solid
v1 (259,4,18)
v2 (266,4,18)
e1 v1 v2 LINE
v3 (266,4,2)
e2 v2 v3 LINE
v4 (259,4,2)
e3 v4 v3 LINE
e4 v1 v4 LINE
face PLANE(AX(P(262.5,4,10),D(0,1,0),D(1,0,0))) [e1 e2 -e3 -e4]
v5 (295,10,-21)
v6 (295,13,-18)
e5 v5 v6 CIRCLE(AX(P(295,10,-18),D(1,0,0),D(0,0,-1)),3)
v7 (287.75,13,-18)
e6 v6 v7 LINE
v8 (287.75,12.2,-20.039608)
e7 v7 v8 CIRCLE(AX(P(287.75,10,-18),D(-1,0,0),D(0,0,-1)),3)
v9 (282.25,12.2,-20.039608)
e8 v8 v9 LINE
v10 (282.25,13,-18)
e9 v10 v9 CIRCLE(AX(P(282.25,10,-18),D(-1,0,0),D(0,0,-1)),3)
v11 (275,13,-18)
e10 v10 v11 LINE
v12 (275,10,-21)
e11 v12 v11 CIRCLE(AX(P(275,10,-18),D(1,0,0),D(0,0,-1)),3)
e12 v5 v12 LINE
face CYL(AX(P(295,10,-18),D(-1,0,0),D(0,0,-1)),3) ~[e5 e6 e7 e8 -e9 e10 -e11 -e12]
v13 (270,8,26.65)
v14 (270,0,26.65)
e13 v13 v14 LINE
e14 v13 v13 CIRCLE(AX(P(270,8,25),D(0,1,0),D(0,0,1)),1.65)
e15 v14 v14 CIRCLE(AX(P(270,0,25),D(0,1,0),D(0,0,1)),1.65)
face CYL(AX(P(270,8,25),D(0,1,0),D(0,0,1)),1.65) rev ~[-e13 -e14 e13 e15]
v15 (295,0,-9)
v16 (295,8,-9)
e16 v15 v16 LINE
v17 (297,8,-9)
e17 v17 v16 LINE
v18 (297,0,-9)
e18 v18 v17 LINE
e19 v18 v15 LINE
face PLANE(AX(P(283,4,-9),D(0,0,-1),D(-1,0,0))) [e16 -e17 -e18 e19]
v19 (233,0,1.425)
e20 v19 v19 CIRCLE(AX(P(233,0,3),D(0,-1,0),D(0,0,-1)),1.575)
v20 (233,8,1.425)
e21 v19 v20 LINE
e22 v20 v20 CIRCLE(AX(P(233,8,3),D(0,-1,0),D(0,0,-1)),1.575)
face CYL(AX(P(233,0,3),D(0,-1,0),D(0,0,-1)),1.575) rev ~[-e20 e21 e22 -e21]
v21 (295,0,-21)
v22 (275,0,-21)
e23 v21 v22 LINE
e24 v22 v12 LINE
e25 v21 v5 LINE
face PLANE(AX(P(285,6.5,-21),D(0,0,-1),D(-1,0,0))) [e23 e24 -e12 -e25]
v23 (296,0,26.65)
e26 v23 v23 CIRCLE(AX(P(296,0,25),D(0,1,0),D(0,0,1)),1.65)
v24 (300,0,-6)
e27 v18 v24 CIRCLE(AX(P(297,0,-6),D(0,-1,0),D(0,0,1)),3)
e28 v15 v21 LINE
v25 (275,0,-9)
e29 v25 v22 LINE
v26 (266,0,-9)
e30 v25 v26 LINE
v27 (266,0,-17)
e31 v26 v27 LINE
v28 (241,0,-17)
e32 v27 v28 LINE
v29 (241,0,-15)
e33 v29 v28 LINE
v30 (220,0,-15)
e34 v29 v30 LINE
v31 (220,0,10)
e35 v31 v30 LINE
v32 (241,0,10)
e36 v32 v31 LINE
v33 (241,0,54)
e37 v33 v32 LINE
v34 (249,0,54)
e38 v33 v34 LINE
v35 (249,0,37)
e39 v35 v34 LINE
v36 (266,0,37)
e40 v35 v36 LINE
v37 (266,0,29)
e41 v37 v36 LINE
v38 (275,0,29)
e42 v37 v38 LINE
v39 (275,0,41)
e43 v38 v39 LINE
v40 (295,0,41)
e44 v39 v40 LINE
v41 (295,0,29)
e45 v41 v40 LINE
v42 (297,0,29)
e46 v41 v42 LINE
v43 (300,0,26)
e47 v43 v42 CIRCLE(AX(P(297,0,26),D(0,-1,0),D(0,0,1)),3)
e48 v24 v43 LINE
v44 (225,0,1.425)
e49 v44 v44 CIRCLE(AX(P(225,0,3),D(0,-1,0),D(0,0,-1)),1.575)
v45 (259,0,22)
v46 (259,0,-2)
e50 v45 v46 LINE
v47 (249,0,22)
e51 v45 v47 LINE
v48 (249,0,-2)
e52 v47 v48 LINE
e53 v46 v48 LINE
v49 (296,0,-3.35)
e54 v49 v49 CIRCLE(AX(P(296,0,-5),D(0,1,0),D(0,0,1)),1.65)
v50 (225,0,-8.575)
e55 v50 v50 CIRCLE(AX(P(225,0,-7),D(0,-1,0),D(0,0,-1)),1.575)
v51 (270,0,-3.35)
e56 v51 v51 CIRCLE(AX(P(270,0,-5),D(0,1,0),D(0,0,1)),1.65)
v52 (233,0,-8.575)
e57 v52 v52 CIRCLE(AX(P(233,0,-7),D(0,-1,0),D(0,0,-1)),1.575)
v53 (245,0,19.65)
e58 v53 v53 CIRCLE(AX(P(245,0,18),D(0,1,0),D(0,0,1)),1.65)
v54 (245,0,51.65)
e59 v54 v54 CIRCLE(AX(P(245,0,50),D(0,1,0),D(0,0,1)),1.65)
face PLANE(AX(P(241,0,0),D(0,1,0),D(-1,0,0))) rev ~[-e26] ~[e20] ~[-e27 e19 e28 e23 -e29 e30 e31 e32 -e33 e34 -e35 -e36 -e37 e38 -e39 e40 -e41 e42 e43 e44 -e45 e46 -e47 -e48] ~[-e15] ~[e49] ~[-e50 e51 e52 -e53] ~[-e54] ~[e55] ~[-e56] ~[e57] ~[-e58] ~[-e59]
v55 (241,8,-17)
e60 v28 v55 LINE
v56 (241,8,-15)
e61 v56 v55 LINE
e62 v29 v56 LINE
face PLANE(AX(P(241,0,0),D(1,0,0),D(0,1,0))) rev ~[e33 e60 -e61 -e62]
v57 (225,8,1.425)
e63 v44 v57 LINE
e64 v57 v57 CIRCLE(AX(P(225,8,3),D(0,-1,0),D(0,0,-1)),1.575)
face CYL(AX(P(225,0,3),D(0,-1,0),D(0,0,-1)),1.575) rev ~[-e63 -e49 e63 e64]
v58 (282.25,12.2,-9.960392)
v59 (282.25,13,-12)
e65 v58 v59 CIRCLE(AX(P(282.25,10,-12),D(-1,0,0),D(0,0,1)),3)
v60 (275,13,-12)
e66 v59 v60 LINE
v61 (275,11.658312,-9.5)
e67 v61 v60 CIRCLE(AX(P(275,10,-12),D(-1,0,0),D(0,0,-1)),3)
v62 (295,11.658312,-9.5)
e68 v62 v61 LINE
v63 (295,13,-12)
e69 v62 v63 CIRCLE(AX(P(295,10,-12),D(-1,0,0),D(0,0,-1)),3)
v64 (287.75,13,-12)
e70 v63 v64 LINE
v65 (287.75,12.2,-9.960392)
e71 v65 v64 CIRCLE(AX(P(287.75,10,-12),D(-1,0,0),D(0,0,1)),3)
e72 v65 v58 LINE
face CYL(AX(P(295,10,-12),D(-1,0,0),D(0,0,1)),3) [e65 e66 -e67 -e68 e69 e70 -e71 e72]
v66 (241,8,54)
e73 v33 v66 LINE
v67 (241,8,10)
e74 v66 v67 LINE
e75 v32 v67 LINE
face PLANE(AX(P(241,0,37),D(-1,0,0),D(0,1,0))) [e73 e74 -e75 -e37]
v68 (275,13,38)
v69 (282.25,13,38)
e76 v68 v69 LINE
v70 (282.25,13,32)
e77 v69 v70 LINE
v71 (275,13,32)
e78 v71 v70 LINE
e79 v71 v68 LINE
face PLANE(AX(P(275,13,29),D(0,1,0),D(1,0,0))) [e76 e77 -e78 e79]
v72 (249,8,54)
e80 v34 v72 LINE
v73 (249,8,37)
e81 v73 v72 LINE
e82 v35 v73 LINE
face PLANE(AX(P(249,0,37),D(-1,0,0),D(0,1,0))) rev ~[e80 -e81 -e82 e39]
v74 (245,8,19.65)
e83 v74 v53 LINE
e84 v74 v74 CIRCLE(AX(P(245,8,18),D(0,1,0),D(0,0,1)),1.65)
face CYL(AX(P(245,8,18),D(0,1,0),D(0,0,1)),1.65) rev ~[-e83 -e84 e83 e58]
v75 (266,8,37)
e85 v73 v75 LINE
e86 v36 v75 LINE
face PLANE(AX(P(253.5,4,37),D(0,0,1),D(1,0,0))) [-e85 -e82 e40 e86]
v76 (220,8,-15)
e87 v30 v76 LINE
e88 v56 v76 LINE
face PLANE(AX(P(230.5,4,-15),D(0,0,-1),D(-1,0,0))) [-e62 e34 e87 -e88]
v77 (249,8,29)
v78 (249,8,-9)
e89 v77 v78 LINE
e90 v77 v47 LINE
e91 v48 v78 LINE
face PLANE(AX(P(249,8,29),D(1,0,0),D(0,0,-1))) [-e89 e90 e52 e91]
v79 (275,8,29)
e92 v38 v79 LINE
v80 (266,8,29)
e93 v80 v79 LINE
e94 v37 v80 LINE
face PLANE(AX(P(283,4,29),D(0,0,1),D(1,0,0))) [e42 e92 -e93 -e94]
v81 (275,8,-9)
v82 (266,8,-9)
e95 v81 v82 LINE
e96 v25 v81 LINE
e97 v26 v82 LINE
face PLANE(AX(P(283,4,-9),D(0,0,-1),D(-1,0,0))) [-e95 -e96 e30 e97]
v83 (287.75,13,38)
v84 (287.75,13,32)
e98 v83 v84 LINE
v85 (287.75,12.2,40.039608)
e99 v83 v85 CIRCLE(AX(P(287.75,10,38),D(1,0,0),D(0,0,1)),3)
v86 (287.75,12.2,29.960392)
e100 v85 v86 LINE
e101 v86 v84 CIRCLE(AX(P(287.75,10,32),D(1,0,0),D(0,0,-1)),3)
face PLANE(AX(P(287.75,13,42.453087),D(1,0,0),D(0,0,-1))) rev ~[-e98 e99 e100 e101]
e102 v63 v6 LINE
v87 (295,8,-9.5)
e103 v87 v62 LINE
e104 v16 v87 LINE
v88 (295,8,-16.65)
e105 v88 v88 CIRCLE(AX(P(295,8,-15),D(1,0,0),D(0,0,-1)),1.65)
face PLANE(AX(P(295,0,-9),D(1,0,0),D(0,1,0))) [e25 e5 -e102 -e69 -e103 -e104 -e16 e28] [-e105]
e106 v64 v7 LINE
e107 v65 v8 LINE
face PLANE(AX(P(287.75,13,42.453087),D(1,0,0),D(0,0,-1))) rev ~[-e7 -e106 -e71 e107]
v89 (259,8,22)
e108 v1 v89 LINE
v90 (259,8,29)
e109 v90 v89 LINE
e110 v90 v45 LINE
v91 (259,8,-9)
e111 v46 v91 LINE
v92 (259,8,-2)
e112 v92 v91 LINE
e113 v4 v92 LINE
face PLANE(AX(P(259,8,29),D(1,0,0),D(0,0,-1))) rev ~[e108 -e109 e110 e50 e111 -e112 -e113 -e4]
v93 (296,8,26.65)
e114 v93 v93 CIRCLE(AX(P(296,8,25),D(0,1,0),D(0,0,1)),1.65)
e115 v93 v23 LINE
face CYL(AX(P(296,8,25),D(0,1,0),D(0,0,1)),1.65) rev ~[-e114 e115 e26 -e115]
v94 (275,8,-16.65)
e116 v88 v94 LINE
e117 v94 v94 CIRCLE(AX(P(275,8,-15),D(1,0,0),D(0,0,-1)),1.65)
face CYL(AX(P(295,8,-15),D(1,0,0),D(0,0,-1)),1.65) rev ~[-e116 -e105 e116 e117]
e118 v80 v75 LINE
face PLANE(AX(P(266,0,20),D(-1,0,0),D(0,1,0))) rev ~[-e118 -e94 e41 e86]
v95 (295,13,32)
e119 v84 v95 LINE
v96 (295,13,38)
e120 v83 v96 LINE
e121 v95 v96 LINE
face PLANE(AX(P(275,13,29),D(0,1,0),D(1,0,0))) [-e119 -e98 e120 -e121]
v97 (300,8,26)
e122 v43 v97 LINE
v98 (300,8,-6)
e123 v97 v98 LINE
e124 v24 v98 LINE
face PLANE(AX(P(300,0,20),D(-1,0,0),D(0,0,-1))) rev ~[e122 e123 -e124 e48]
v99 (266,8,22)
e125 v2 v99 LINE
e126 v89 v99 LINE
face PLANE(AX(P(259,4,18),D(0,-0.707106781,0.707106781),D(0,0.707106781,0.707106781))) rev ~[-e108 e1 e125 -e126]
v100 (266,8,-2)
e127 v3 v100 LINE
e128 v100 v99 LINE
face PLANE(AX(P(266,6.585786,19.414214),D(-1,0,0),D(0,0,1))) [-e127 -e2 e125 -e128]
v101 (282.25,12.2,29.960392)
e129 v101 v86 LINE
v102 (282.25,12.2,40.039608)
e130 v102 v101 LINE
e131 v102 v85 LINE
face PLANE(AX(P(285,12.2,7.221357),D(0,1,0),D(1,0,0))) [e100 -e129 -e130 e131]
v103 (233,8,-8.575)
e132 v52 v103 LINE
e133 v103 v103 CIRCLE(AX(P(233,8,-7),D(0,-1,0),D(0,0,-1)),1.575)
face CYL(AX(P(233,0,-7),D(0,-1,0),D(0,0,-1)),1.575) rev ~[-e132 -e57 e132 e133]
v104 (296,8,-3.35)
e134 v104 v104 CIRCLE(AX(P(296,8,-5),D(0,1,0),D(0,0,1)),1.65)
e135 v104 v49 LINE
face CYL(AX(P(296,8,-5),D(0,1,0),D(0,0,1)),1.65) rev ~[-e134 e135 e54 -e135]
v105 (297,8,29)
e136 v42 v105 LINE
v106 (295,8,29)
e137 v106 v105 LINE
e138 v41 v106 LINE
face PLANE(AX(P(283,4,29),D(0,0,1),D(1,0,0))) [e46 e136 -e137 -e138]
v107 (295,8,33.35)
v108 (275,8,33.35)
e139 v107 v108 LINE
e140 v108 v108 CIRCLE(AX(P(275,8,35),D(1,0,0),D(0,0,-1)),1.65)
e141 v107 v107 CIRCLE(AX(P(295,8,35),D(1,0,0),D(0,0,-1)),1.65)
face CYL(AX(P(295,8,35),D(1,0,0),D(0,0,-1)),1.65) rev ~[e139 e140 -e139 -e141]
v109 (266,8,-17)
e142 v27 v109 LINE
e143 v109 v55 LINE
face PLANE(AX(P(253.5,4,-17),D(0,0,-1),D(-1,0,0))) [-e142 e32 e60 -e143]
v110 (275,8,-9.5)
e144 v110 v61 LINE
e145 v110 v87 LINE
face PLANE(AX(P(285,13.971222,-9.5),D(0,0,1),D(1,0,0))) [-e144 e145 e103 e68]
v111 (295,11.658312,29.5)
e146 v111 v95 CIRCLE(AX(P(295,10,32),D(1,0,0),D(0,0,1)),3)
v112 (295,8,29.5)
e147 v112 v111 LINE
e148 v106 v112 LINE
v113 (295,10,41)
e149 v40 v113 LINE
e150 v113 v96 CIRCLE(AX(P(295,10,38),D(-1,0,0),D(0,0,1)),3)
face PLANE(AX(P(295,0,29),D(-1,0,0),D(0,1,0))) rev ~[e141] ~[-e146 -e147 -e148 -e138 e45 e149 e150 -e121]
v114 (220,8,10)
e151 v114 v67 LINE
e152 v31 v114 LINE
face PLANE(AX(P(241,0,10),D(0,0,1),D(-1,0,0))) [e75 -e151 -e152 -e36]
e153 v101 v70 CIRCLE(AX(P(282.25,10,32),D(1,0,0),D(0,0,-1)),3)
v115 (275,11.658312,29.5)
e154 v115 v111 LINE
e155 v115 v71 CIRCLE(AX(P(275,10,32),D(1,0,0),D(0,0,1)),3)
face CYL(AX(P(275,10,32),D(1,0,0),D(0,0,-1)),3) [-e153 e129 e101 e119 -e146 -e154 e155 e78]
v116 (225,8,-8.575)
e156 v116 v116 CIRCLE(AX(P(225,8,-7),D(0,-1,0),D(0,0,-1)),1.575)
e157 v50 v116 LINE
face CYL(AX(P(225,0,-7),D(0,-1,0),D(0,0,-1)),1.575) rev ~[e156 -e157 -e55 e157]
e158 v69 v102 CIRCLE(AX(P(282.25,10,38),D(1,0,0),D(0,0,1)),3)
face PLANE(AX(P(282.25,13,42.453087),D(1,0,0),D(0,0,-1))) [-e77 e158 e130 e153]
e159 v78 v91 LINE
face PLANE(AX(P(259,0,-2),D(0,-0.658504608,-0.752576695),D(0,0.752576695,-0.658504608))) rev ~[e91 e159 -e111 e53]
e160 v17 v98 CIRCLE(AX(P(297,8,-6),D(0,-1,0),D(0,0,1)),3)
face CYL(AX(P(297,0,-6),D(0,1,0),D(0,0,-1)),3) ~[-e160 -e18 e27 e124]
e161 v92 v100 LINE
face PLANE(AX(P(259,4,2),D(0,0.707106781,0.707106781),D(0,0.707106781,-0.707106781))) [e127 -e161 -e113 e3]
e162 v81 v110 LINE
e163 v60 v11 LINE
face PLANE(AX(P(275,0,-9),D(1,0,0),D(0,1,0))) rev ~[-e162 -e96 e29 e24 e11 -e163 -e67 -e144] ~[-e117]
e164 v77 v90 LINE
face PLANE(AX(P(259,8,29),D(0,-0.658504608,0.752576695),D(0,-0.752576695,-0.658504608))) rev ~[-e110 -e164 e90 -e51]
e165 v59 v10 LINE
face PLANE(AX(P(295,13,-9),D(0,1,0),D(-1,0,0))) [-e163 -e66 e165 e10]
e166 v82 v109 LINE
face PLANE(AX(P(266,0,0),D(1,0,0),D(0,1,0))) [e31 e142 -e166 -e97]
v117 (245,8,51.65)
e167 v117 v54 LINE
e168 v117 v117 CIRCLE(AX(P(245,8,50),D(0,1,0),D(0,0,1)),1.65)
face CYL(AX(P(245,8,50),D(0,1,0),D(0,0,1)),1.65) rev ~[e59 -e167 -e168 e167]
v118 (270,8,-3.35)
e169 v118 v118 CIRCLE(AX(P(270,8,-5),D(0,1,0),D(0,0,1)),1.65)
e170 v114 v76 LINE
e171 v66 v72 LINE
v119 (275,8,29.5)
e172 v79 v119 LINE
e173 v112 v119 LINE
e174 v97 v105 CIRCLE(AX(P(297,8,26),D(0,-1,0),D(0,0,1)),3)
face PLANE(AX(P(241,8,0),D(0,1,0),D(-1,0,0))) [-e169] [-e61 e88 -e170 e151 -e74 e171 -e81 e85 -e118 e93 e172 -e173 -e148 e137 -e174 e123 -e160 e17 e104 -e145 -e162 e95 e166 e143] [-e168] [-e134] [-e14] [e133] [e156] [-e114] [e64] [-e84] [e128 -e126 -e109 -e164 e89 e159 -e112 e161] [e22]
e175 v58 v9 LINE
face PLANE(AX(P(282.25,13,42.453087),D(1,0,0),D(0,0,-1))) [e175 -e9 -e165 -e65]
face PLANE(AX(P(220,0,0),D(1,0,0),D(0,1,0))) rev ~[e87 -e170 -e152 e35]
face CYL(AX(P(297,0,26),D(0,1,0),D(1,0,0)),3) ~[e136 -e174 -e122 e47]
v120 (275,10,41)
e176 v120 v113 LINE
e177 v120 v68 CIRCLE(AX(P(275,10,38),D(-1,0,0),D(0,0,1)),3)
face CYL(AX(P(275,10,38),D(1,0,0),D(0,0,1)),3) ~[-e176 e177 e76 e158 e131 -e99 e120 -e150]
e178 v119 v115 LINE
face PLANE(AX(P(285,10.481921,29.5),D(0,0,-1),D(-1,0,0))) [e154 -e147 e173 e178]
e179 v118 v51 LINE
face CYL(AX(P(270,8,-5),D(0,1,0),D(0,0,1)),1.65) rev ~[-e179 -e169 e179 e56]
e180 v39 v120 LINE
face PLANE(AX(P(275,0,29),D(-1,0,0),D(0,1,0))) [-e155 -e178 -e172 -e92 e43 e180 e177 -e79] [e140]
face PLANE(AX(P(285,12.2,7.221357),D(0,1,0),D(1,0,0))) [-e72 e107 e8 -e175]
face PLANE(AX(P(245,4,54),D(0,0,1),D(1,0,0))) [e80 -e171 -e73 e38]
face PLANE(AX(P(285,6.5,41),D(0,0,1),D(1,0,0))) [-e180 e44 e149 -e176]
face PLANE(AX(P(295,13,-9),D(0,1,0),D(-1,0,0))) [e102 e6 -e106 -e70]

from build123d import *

# Parameters (mm, degrees)
SKETCH1_W            = 300
SKETCH1_H            = 20
BOSS_EXTRUDE1_DEPTH  = 8
SKETCH2_W            = 34
SKETCH2_H            = 8
BOSS_EXTRUDE2_DEPTH  = 9
SKETCH3_W            = 34
SKETCH3_H            = 8
BOSS_EXTRUDE3_DEPTH  = 9
SKETCH4_R            = 1.65
CUT_EXTRUDE1_DEPTH   = 302.504560496
SKETCH5_W            = 25
SKETCH5_H            = 8
BOSS_EXTRUDE4_DEPTH  = 17
SKETCH6_W            = 25
SKETCH6_H            = 8
BOSS_EXTRUDE5_DEPTH  = 17
SKETCH7_W            = 10
SKETCH7_H            = 38
CUT_EXTRUDE2_DEPTH   = 303.37890138
SKETCH8_W            = 7
SKETCH8_H            = 16
CUT_EXTRUDE3_DEPTH   = 4
CUT_EXTRUDE4_DEPTH   = 7
BOSS_EXTRUDE6_DEPTH  = 10
SKETCH12_W           = 8
SKETCH12_H           = 8
BOSS_EXTRUDE7_DEPTH  = 17
SKETCH13_R           = 1.65
CUT_EXTRUDE6_DEPTH   = 305.926220585
SKETCH14_W           = 20
SKETCH14_H           = 13
BOSS_EXTRUDE8_DEPTH  = 12
SKETCH15_R           = 1.65
CUT_EXTRUDE7_DEPTH   = 20
SKETCH16_W           = 20
SKETCH16_H           = 13
BOSS_EXTRUDE9_DEPTH  = 12
SKETCH17_R           = 1.65
CUT_EXTRUDE8_DEPTH   = 20
SKETCH18_W           = 20
SKETCH18_H           = 13
BOSS_EXTRUDE10_DEPTH = 12
SKETCH19_R           = 1.6
CUT_EXTRUDE9_DEPTH   = 20
SKETCH20_W           = 20
SKETCH20_H           = 13
BOSS_EXTRUDE11_DEPTH = 12
SKETCH21_R           = 1.6
CUT_EXTRUDE10_DEPTH  = 20
FILLET6_R            = 3
SKETCH28_W           = 198.881436238
SKETCH28_H           = 556.355103816
CUT_EXTRUDE14_DEPTH  = 220
SKETCH29_W           = 21
SKETCH29_H           = 8
BOSS_EXTRUDE12_DEPTH = 15
SKETCH30_W           = 21
SKETCH30_H           = 10
CUT_EXTRUDE15_DEPTH  = 306.0983448
SKETCH31_R           = 1.575
CUT_EXTRUDE16_DEPTH  = 306.0983448
FILLET7_R            = 3
SKETCH32_W           = 5.5
SKETCH32_H           = 70.463459777
CUT_EXTRUDE17_DEPTH  = 0.8
SKETCH33_W           = 20
SKETCH33_H           = 4.963841857
CUT_EXTRUDE18_DEPTH  = 0.5
SKETCH34_W           = 20
SKETCH34_H           = 11.942443484
CUT_EXTRUDE19_DEPTH  = 0.5


with BuildPart() as part:
    # Sketch1 → Boss-Extrude1 (new body)
    with BuildSketch(Plane(origin=(0, 0, 0), x_dir=(1, 0, 0), z_dir=(0, 1, 0))):
        with Locations((150, -10)):
            Rectangle(SKETCH1_W, SKETCH1_H)
    extrude(amount=BOSS_EXTRUDE1_DEPTH)

    # Sketch2 → Boss-Extrude2 (add)
    with BuildSketch(Plane.XY.offset(20)):
        with Locations((17, 4)):
            Rectangle(SKETCH2_W, SKETCH2_H)
        with Locations((283, 4)):
            Rectangle(SKETCH2_W, SKETCH2_H)
    extrude(amount=BOSS_EXTRUDE2_DEPTH)

    # Sketch3 → Boss-Extrude3 (add)
    with BuildSketch(Plane(origin=(0, 0, 0), x_dir=(-1, 0, 0), z_dir=(0, 0, -1))):
        with Locations((-17, 4)):
            Rectangle(SKETCH3_W, SKETCH3_H)
        with Locations((-283, 4)):
            Rectangle(SKETCH3_W, SKETCH3_H)
    extrude(amount=BOSS_EXTRUDE3_DEPTH)

    # Sketch4 → Cut-Extrude1 (cut, through all)
    with BuildSketch(Plane(origin=(0, 8, 0), x_dir=(1, 0, 0), z_dir=(0, 1, 0))):
        with Locations(Location((4, 5, 0), (0, 0, 270))):
            Circle(SKETCH4_R)
        with Locations(Location((30, 5, 0), (0, 0, 270))):
            Circle(SKETCH4_R)
        with Locations(Location((30, -25, 0), (0, 0, 270))):
            Circle(SKETCH4_R)
        with Locations(Location((4, -25, 0), (0, 0, 270))):
            Circle(SKETCH4_R)
        with Locations(Location((296, -25, 0), (0, 0, 270))):
            Circle(SKETCH4_R)
        with Locations(Location((296, 5, 0), (0, 0, 270))):
            Circle(SKETCH4_R)
        with Locations(Location((270, -25, 0), (0, 0, 270))):
            Circle(SKETCH4_R)
        with Locations(Location((270, 5, 0), (0, 0, 270))):
            Circle(SKETCH4_R)
    extrude(amount=-CUT_EXTRUDE1_DEPTH, mode=Mode.SUBTRACT)

    # Sketch5 → Boss-Extrude4 (add)
    with BuildSketch(Plane.XY.offset(20)):
        with Locations((253.5, 4)):
            Rectangle(SKETCH5_W, SKETCH5_H)
    extrude(amount=BOSS_EXTRUDE4_DEPTH)

    # Sketch6 → Boss-Extrude5 (add)
    with BuildSketch(Plane(origin=(0, 0, 0), x_dir=(-1, 0, 0), z_dir=(0, 0, -1))):
        with Locations((-253.5, 4)):
            Rectangle(SKETCH6_W, SKETCH6_H)
    extrude(amount=BOSS_EXTRUDE5_DEPTH)

    # Sketch7 → Cut-Extrude2 (cut, through all)
    with BuildSketch(Plane(origin=(0, 8, 0), x_dir=(1, 0, 0), z_dir=(0, 1, 0))):
        with Locations((254, -10)):
            Rectangle(SKETCH7_W, SKETCH7_H)
    extrude(amount=-CUT_EXTRUDE2_DEPTH, mode=Mode.SUBTRACT)

    # Sketch8 → Cut-Extrude3 (cut)
    with BuildSketch(Plane(origin=(0, 8, 0), x_dir=(1, 0, 0), z_dir=(0, 1, 0))):
        with Locations((262.5, -10)):
            Rectangle(SKETCH8_W, SKETCH8_H)
    extrude(amount=-CUT_EXTRUDE3_DEPTH, mode=Mode.SUBTRACT)

    # Sketch9 → Cut-Extrude4 (cut)
    with BuildSketch(Plane.ZY.offset(-259)):
        Polygon((18, 4), (22, 8), (18, 8), align=None)
        Polygon((2, 4), (-2, 8), (2, 8), align=None)
    extrude(amount=-CUT_EXTRUDE4_DEPTH, mode=Mode.SUBTRACT)

    # Sketch10 → Boss-Extrude6 (add)
    with BuildSketch(Plane.ZY.offset(-259)):
        Polygon((-2, 0), (-9, 8), (-9, 0), align=None)
        Polygon((29, 8), (22, 0), (29, 0), align=None)
    extrude(amount=BOSS_EXTRUDE6_DEPTH)

    # Sketch12 → Boss-Extrude7 (add)
    with BuildSketch(Plane.XY.offset(37)):
        with Locations((245, 4)):
            Rectangle(SKETCH12_W, SKETCH12_H)
    extrude(amount=BOSS_EXTRUDE7_DEPTH)

    # Sketch13 → Cut-Extrude6 (cut, through all)
    with BuildSketch(Plane(origin=(0, 8, 0), x_dir=(1, 0, 0), z_dir=(0, 1, 0))):
        with Locations(Location((245, -50, 0), (0, 0, 270))):
            Circle(SKETCH13_R)
        with Locations(Location((245, -18, 0), (0, 0, 270))):
            Circle(SKETCH13_R)
    extrude(amount=-CUT_EXTRUDE6_DEPTH, mode=Mode.SUBTRACT)

    # Sketch14 → Boss-Extrude8 (add)
    with BuildSketch(Plane.XY.offset(29)):
        with Locations((285, 6.5)):
            Rectangle(SKETCH14_W, SKETCH14_H)
    extrude(amount=BOSS_EXTRUDE8_DEPTH)

    # Sketch15 → Cut-Extrude7 (cut)
    with BuildSketch(Plane(origin=(295, 0, 0), x_dir=(0, 0, -1), z_dir=(1, 0, 0))):
        with Locations((-35, 8)):
            Circle(SKETCH15_R)
    extrude(amount=-CUT_EXTRUDE7_DEPTH, mode=Mode.SUBTRACT)

    # Sketch16 → Boss-Extrude9 (add)
    with BuildSketch(Plane(origin=(0, 0, -9), x_dir=(-1, 0, 0), z_dir=(0, 0, -1))):
        with Locations((-285, 6.5)):
            Rectangle(SKETCH16_W, SKETCH16_H)
    extrude(amount=BOSS_EXTRUDE9_DEPTH)

    # Sketch17 → Cut-Extrude8 (cut)
    with BuildSketch(Plane(origin=(295, 0, 0), x_dir=(0, 0, -1), z_dir=(1, 0, 0))):
        with Locations((15, 8)):
            Circle(SKETCH17_R)
    extrude(amount=-CUT_EXTRUDE8_DEPTH, mode=Mode.SUBTRACT)

    # Sketch18 → Boss-Extrude10 (add)
    with BuildSketch(Plane(origin=(0, 0, -9), x_dir=(-1, 0, 0), z_dir=(0, 0, -1))):
        with Locations((-15, 6.5)):
            Rectangle(SKETCH18_W, SKETCH18_H)
    extrude(amount=BOSS_EXTRUDE10_DEPTH)

    # Sketch19 → Cut-Extrude9 (cut)
    with BuildSketch(Plane.ZY.offset(-5)):
        with Locations((-15, 8)):
            Circle(SKETCH19_R)
    extrude(amount=-CUT_EXTRUDE9_DEPTH, mode=Mode.SUBTRACT)

    # Sketch20 → Boss-Extrude11 (add)
    with BuildSketch(Plane.XY.offset(29)):
        with Locations((15, 6.5)):
            Rectangle(SKETCH20_W, SKETCH20_H)
    extrude(amount=BOSS_EXTRUDE11_DEPTH)

    # Sketch21 → Cut-Extrude10 (cut)
    with BuildSketch(Plane.ZY.offset(-5)):
        with Locations((35, 8)):
            Circle(SKETCH21_R)
    extrude(amount=-CUT_EXTRUDE10_DEPTH, mode=Mode.SUBTRACT)

    # Fillet6
    fillet6_edges = [part.edges().sort_by_distance(p)[0] for p in [
        (285, 13, 29),
        (285, 13, 41),
        (285, 13, -9),
        (285, 13, -21),
        (15, 13, -9),
        (15, 13, -21),
        (15, 13, 29),
        (15, 13, 41),
    ]]
    fillet(fillet6_edges, radius=FILLET6_R)

    # Sketch28 → Cut-Extrude14 (cut)
    with BuildSketch(Plane.ZY):
        with Locations((-20.495432896, -60.484201615)):
            Rectangle(SKETCH28_W, SKETCH28_H)
    extrude(amount=-CUT_EXTRUDE14_DEPTH, mode=Mode.SUBTRACT)

    # Sketch29 → Boss-Extrude12 (add)
    with BuildSketch(Plane(origin=(0, 0, 0), x_dir=(-1, 0, 0), z_dir=(0, 0, -1))):
        with Locations((-230.5, 4)):
            Rectangle(SKETCH29_W, SKETCH29_H)
    extrude(amount=BOSS_EXTRUDE12_DEPTH)

    # Sketch30 → Cut-Extrude15 (cut, through all)
    with BuildSketch(Plane(origin=(0, 0, 0), x_dir=(-1, 0, 0), z_dir=(0, -1, 0))):
        with Locations((-230.5, -15)):
            Rectangle(SKETCH30_W, SKETCH30_H)
    extrude(amount=-CUT_EXTRUDE15_DEPTH, mode=Mode.SUBTRACT)

    # Sketch31 → Cut-Extrude16 (cut, through all)
    with BuildSketch(Plane(origin=(0, 0, 0), x_dir=(-1, 0, 0), z_dir=(0, -1, 0))):
        with Locations(Location((-225, 7, 0), (0, 0, 90))):
            Circle(SKETCH31_R)
        with Locations(Location((-225, -3, 0), (0, 0, 90))):
            Circle(SKETCH31_R)
        with Locations(Location((-233, 7, 0), (0, 0, 90))):
            Circle(SKETCH31_R)
        with Locations(Location((-233, -3, 0), (0, 0, 90))):
            Circle(SKETCH31_R)
    extrude(amount=-CUT_EXTRUDE16_DEPTH, mode=Mode.SUBTRACT)

    # Fillet7
    fillet7_edges = [part.edges().sort_by_distance(p)[0] for p in [
        (300, 4, 29),
        (300, 4, -9),
    ]]
    fillet(fillet7_edges, radius=FILLET7_R)

    # Sketch32 → Cut-Extrude17 (cut)
    with BuildSketch(Plane(origin=(0, 13, 0), x_dir=(1, 0, 0), z_dir=(0, 1, 0))):
        with Locations((285, -7.2213573)):
            Rectangle(SKETCH32_W, SKETCH32_H)
    extrude(amount=-CUT_EXTRUDE17_DEPTH, mode=Mode.SUBTRACT)

    # Sketch33 → Cut-Extrude18 (cut)
    with BuildSketch(Plane(origin=(0, 0, 29), x_dir=(-1, 0, 0), z_dir=(0, 0, -1))):
        with Locations((-285, 10.481920928)):
            Rectangle(SKETCH33_W, SKETCH33_H)
    extrude(amount=-CUT_EXTRUDE18_DEPTH, mode=Mode.SUBTRACT)

    # Sketch34 → Cut-Extrude19 (cut)
    with BuildSketch(Plane.XY.offset(-9)):
        with Locations((285, 13.971221742)):
            Rectangle(SKETCH34_W, SKETCH34_H)
    extrude(amount=-CUT_EXTRUDE19_DEPTH, mode=Mode.SUBTRACT)


solid = part.part
